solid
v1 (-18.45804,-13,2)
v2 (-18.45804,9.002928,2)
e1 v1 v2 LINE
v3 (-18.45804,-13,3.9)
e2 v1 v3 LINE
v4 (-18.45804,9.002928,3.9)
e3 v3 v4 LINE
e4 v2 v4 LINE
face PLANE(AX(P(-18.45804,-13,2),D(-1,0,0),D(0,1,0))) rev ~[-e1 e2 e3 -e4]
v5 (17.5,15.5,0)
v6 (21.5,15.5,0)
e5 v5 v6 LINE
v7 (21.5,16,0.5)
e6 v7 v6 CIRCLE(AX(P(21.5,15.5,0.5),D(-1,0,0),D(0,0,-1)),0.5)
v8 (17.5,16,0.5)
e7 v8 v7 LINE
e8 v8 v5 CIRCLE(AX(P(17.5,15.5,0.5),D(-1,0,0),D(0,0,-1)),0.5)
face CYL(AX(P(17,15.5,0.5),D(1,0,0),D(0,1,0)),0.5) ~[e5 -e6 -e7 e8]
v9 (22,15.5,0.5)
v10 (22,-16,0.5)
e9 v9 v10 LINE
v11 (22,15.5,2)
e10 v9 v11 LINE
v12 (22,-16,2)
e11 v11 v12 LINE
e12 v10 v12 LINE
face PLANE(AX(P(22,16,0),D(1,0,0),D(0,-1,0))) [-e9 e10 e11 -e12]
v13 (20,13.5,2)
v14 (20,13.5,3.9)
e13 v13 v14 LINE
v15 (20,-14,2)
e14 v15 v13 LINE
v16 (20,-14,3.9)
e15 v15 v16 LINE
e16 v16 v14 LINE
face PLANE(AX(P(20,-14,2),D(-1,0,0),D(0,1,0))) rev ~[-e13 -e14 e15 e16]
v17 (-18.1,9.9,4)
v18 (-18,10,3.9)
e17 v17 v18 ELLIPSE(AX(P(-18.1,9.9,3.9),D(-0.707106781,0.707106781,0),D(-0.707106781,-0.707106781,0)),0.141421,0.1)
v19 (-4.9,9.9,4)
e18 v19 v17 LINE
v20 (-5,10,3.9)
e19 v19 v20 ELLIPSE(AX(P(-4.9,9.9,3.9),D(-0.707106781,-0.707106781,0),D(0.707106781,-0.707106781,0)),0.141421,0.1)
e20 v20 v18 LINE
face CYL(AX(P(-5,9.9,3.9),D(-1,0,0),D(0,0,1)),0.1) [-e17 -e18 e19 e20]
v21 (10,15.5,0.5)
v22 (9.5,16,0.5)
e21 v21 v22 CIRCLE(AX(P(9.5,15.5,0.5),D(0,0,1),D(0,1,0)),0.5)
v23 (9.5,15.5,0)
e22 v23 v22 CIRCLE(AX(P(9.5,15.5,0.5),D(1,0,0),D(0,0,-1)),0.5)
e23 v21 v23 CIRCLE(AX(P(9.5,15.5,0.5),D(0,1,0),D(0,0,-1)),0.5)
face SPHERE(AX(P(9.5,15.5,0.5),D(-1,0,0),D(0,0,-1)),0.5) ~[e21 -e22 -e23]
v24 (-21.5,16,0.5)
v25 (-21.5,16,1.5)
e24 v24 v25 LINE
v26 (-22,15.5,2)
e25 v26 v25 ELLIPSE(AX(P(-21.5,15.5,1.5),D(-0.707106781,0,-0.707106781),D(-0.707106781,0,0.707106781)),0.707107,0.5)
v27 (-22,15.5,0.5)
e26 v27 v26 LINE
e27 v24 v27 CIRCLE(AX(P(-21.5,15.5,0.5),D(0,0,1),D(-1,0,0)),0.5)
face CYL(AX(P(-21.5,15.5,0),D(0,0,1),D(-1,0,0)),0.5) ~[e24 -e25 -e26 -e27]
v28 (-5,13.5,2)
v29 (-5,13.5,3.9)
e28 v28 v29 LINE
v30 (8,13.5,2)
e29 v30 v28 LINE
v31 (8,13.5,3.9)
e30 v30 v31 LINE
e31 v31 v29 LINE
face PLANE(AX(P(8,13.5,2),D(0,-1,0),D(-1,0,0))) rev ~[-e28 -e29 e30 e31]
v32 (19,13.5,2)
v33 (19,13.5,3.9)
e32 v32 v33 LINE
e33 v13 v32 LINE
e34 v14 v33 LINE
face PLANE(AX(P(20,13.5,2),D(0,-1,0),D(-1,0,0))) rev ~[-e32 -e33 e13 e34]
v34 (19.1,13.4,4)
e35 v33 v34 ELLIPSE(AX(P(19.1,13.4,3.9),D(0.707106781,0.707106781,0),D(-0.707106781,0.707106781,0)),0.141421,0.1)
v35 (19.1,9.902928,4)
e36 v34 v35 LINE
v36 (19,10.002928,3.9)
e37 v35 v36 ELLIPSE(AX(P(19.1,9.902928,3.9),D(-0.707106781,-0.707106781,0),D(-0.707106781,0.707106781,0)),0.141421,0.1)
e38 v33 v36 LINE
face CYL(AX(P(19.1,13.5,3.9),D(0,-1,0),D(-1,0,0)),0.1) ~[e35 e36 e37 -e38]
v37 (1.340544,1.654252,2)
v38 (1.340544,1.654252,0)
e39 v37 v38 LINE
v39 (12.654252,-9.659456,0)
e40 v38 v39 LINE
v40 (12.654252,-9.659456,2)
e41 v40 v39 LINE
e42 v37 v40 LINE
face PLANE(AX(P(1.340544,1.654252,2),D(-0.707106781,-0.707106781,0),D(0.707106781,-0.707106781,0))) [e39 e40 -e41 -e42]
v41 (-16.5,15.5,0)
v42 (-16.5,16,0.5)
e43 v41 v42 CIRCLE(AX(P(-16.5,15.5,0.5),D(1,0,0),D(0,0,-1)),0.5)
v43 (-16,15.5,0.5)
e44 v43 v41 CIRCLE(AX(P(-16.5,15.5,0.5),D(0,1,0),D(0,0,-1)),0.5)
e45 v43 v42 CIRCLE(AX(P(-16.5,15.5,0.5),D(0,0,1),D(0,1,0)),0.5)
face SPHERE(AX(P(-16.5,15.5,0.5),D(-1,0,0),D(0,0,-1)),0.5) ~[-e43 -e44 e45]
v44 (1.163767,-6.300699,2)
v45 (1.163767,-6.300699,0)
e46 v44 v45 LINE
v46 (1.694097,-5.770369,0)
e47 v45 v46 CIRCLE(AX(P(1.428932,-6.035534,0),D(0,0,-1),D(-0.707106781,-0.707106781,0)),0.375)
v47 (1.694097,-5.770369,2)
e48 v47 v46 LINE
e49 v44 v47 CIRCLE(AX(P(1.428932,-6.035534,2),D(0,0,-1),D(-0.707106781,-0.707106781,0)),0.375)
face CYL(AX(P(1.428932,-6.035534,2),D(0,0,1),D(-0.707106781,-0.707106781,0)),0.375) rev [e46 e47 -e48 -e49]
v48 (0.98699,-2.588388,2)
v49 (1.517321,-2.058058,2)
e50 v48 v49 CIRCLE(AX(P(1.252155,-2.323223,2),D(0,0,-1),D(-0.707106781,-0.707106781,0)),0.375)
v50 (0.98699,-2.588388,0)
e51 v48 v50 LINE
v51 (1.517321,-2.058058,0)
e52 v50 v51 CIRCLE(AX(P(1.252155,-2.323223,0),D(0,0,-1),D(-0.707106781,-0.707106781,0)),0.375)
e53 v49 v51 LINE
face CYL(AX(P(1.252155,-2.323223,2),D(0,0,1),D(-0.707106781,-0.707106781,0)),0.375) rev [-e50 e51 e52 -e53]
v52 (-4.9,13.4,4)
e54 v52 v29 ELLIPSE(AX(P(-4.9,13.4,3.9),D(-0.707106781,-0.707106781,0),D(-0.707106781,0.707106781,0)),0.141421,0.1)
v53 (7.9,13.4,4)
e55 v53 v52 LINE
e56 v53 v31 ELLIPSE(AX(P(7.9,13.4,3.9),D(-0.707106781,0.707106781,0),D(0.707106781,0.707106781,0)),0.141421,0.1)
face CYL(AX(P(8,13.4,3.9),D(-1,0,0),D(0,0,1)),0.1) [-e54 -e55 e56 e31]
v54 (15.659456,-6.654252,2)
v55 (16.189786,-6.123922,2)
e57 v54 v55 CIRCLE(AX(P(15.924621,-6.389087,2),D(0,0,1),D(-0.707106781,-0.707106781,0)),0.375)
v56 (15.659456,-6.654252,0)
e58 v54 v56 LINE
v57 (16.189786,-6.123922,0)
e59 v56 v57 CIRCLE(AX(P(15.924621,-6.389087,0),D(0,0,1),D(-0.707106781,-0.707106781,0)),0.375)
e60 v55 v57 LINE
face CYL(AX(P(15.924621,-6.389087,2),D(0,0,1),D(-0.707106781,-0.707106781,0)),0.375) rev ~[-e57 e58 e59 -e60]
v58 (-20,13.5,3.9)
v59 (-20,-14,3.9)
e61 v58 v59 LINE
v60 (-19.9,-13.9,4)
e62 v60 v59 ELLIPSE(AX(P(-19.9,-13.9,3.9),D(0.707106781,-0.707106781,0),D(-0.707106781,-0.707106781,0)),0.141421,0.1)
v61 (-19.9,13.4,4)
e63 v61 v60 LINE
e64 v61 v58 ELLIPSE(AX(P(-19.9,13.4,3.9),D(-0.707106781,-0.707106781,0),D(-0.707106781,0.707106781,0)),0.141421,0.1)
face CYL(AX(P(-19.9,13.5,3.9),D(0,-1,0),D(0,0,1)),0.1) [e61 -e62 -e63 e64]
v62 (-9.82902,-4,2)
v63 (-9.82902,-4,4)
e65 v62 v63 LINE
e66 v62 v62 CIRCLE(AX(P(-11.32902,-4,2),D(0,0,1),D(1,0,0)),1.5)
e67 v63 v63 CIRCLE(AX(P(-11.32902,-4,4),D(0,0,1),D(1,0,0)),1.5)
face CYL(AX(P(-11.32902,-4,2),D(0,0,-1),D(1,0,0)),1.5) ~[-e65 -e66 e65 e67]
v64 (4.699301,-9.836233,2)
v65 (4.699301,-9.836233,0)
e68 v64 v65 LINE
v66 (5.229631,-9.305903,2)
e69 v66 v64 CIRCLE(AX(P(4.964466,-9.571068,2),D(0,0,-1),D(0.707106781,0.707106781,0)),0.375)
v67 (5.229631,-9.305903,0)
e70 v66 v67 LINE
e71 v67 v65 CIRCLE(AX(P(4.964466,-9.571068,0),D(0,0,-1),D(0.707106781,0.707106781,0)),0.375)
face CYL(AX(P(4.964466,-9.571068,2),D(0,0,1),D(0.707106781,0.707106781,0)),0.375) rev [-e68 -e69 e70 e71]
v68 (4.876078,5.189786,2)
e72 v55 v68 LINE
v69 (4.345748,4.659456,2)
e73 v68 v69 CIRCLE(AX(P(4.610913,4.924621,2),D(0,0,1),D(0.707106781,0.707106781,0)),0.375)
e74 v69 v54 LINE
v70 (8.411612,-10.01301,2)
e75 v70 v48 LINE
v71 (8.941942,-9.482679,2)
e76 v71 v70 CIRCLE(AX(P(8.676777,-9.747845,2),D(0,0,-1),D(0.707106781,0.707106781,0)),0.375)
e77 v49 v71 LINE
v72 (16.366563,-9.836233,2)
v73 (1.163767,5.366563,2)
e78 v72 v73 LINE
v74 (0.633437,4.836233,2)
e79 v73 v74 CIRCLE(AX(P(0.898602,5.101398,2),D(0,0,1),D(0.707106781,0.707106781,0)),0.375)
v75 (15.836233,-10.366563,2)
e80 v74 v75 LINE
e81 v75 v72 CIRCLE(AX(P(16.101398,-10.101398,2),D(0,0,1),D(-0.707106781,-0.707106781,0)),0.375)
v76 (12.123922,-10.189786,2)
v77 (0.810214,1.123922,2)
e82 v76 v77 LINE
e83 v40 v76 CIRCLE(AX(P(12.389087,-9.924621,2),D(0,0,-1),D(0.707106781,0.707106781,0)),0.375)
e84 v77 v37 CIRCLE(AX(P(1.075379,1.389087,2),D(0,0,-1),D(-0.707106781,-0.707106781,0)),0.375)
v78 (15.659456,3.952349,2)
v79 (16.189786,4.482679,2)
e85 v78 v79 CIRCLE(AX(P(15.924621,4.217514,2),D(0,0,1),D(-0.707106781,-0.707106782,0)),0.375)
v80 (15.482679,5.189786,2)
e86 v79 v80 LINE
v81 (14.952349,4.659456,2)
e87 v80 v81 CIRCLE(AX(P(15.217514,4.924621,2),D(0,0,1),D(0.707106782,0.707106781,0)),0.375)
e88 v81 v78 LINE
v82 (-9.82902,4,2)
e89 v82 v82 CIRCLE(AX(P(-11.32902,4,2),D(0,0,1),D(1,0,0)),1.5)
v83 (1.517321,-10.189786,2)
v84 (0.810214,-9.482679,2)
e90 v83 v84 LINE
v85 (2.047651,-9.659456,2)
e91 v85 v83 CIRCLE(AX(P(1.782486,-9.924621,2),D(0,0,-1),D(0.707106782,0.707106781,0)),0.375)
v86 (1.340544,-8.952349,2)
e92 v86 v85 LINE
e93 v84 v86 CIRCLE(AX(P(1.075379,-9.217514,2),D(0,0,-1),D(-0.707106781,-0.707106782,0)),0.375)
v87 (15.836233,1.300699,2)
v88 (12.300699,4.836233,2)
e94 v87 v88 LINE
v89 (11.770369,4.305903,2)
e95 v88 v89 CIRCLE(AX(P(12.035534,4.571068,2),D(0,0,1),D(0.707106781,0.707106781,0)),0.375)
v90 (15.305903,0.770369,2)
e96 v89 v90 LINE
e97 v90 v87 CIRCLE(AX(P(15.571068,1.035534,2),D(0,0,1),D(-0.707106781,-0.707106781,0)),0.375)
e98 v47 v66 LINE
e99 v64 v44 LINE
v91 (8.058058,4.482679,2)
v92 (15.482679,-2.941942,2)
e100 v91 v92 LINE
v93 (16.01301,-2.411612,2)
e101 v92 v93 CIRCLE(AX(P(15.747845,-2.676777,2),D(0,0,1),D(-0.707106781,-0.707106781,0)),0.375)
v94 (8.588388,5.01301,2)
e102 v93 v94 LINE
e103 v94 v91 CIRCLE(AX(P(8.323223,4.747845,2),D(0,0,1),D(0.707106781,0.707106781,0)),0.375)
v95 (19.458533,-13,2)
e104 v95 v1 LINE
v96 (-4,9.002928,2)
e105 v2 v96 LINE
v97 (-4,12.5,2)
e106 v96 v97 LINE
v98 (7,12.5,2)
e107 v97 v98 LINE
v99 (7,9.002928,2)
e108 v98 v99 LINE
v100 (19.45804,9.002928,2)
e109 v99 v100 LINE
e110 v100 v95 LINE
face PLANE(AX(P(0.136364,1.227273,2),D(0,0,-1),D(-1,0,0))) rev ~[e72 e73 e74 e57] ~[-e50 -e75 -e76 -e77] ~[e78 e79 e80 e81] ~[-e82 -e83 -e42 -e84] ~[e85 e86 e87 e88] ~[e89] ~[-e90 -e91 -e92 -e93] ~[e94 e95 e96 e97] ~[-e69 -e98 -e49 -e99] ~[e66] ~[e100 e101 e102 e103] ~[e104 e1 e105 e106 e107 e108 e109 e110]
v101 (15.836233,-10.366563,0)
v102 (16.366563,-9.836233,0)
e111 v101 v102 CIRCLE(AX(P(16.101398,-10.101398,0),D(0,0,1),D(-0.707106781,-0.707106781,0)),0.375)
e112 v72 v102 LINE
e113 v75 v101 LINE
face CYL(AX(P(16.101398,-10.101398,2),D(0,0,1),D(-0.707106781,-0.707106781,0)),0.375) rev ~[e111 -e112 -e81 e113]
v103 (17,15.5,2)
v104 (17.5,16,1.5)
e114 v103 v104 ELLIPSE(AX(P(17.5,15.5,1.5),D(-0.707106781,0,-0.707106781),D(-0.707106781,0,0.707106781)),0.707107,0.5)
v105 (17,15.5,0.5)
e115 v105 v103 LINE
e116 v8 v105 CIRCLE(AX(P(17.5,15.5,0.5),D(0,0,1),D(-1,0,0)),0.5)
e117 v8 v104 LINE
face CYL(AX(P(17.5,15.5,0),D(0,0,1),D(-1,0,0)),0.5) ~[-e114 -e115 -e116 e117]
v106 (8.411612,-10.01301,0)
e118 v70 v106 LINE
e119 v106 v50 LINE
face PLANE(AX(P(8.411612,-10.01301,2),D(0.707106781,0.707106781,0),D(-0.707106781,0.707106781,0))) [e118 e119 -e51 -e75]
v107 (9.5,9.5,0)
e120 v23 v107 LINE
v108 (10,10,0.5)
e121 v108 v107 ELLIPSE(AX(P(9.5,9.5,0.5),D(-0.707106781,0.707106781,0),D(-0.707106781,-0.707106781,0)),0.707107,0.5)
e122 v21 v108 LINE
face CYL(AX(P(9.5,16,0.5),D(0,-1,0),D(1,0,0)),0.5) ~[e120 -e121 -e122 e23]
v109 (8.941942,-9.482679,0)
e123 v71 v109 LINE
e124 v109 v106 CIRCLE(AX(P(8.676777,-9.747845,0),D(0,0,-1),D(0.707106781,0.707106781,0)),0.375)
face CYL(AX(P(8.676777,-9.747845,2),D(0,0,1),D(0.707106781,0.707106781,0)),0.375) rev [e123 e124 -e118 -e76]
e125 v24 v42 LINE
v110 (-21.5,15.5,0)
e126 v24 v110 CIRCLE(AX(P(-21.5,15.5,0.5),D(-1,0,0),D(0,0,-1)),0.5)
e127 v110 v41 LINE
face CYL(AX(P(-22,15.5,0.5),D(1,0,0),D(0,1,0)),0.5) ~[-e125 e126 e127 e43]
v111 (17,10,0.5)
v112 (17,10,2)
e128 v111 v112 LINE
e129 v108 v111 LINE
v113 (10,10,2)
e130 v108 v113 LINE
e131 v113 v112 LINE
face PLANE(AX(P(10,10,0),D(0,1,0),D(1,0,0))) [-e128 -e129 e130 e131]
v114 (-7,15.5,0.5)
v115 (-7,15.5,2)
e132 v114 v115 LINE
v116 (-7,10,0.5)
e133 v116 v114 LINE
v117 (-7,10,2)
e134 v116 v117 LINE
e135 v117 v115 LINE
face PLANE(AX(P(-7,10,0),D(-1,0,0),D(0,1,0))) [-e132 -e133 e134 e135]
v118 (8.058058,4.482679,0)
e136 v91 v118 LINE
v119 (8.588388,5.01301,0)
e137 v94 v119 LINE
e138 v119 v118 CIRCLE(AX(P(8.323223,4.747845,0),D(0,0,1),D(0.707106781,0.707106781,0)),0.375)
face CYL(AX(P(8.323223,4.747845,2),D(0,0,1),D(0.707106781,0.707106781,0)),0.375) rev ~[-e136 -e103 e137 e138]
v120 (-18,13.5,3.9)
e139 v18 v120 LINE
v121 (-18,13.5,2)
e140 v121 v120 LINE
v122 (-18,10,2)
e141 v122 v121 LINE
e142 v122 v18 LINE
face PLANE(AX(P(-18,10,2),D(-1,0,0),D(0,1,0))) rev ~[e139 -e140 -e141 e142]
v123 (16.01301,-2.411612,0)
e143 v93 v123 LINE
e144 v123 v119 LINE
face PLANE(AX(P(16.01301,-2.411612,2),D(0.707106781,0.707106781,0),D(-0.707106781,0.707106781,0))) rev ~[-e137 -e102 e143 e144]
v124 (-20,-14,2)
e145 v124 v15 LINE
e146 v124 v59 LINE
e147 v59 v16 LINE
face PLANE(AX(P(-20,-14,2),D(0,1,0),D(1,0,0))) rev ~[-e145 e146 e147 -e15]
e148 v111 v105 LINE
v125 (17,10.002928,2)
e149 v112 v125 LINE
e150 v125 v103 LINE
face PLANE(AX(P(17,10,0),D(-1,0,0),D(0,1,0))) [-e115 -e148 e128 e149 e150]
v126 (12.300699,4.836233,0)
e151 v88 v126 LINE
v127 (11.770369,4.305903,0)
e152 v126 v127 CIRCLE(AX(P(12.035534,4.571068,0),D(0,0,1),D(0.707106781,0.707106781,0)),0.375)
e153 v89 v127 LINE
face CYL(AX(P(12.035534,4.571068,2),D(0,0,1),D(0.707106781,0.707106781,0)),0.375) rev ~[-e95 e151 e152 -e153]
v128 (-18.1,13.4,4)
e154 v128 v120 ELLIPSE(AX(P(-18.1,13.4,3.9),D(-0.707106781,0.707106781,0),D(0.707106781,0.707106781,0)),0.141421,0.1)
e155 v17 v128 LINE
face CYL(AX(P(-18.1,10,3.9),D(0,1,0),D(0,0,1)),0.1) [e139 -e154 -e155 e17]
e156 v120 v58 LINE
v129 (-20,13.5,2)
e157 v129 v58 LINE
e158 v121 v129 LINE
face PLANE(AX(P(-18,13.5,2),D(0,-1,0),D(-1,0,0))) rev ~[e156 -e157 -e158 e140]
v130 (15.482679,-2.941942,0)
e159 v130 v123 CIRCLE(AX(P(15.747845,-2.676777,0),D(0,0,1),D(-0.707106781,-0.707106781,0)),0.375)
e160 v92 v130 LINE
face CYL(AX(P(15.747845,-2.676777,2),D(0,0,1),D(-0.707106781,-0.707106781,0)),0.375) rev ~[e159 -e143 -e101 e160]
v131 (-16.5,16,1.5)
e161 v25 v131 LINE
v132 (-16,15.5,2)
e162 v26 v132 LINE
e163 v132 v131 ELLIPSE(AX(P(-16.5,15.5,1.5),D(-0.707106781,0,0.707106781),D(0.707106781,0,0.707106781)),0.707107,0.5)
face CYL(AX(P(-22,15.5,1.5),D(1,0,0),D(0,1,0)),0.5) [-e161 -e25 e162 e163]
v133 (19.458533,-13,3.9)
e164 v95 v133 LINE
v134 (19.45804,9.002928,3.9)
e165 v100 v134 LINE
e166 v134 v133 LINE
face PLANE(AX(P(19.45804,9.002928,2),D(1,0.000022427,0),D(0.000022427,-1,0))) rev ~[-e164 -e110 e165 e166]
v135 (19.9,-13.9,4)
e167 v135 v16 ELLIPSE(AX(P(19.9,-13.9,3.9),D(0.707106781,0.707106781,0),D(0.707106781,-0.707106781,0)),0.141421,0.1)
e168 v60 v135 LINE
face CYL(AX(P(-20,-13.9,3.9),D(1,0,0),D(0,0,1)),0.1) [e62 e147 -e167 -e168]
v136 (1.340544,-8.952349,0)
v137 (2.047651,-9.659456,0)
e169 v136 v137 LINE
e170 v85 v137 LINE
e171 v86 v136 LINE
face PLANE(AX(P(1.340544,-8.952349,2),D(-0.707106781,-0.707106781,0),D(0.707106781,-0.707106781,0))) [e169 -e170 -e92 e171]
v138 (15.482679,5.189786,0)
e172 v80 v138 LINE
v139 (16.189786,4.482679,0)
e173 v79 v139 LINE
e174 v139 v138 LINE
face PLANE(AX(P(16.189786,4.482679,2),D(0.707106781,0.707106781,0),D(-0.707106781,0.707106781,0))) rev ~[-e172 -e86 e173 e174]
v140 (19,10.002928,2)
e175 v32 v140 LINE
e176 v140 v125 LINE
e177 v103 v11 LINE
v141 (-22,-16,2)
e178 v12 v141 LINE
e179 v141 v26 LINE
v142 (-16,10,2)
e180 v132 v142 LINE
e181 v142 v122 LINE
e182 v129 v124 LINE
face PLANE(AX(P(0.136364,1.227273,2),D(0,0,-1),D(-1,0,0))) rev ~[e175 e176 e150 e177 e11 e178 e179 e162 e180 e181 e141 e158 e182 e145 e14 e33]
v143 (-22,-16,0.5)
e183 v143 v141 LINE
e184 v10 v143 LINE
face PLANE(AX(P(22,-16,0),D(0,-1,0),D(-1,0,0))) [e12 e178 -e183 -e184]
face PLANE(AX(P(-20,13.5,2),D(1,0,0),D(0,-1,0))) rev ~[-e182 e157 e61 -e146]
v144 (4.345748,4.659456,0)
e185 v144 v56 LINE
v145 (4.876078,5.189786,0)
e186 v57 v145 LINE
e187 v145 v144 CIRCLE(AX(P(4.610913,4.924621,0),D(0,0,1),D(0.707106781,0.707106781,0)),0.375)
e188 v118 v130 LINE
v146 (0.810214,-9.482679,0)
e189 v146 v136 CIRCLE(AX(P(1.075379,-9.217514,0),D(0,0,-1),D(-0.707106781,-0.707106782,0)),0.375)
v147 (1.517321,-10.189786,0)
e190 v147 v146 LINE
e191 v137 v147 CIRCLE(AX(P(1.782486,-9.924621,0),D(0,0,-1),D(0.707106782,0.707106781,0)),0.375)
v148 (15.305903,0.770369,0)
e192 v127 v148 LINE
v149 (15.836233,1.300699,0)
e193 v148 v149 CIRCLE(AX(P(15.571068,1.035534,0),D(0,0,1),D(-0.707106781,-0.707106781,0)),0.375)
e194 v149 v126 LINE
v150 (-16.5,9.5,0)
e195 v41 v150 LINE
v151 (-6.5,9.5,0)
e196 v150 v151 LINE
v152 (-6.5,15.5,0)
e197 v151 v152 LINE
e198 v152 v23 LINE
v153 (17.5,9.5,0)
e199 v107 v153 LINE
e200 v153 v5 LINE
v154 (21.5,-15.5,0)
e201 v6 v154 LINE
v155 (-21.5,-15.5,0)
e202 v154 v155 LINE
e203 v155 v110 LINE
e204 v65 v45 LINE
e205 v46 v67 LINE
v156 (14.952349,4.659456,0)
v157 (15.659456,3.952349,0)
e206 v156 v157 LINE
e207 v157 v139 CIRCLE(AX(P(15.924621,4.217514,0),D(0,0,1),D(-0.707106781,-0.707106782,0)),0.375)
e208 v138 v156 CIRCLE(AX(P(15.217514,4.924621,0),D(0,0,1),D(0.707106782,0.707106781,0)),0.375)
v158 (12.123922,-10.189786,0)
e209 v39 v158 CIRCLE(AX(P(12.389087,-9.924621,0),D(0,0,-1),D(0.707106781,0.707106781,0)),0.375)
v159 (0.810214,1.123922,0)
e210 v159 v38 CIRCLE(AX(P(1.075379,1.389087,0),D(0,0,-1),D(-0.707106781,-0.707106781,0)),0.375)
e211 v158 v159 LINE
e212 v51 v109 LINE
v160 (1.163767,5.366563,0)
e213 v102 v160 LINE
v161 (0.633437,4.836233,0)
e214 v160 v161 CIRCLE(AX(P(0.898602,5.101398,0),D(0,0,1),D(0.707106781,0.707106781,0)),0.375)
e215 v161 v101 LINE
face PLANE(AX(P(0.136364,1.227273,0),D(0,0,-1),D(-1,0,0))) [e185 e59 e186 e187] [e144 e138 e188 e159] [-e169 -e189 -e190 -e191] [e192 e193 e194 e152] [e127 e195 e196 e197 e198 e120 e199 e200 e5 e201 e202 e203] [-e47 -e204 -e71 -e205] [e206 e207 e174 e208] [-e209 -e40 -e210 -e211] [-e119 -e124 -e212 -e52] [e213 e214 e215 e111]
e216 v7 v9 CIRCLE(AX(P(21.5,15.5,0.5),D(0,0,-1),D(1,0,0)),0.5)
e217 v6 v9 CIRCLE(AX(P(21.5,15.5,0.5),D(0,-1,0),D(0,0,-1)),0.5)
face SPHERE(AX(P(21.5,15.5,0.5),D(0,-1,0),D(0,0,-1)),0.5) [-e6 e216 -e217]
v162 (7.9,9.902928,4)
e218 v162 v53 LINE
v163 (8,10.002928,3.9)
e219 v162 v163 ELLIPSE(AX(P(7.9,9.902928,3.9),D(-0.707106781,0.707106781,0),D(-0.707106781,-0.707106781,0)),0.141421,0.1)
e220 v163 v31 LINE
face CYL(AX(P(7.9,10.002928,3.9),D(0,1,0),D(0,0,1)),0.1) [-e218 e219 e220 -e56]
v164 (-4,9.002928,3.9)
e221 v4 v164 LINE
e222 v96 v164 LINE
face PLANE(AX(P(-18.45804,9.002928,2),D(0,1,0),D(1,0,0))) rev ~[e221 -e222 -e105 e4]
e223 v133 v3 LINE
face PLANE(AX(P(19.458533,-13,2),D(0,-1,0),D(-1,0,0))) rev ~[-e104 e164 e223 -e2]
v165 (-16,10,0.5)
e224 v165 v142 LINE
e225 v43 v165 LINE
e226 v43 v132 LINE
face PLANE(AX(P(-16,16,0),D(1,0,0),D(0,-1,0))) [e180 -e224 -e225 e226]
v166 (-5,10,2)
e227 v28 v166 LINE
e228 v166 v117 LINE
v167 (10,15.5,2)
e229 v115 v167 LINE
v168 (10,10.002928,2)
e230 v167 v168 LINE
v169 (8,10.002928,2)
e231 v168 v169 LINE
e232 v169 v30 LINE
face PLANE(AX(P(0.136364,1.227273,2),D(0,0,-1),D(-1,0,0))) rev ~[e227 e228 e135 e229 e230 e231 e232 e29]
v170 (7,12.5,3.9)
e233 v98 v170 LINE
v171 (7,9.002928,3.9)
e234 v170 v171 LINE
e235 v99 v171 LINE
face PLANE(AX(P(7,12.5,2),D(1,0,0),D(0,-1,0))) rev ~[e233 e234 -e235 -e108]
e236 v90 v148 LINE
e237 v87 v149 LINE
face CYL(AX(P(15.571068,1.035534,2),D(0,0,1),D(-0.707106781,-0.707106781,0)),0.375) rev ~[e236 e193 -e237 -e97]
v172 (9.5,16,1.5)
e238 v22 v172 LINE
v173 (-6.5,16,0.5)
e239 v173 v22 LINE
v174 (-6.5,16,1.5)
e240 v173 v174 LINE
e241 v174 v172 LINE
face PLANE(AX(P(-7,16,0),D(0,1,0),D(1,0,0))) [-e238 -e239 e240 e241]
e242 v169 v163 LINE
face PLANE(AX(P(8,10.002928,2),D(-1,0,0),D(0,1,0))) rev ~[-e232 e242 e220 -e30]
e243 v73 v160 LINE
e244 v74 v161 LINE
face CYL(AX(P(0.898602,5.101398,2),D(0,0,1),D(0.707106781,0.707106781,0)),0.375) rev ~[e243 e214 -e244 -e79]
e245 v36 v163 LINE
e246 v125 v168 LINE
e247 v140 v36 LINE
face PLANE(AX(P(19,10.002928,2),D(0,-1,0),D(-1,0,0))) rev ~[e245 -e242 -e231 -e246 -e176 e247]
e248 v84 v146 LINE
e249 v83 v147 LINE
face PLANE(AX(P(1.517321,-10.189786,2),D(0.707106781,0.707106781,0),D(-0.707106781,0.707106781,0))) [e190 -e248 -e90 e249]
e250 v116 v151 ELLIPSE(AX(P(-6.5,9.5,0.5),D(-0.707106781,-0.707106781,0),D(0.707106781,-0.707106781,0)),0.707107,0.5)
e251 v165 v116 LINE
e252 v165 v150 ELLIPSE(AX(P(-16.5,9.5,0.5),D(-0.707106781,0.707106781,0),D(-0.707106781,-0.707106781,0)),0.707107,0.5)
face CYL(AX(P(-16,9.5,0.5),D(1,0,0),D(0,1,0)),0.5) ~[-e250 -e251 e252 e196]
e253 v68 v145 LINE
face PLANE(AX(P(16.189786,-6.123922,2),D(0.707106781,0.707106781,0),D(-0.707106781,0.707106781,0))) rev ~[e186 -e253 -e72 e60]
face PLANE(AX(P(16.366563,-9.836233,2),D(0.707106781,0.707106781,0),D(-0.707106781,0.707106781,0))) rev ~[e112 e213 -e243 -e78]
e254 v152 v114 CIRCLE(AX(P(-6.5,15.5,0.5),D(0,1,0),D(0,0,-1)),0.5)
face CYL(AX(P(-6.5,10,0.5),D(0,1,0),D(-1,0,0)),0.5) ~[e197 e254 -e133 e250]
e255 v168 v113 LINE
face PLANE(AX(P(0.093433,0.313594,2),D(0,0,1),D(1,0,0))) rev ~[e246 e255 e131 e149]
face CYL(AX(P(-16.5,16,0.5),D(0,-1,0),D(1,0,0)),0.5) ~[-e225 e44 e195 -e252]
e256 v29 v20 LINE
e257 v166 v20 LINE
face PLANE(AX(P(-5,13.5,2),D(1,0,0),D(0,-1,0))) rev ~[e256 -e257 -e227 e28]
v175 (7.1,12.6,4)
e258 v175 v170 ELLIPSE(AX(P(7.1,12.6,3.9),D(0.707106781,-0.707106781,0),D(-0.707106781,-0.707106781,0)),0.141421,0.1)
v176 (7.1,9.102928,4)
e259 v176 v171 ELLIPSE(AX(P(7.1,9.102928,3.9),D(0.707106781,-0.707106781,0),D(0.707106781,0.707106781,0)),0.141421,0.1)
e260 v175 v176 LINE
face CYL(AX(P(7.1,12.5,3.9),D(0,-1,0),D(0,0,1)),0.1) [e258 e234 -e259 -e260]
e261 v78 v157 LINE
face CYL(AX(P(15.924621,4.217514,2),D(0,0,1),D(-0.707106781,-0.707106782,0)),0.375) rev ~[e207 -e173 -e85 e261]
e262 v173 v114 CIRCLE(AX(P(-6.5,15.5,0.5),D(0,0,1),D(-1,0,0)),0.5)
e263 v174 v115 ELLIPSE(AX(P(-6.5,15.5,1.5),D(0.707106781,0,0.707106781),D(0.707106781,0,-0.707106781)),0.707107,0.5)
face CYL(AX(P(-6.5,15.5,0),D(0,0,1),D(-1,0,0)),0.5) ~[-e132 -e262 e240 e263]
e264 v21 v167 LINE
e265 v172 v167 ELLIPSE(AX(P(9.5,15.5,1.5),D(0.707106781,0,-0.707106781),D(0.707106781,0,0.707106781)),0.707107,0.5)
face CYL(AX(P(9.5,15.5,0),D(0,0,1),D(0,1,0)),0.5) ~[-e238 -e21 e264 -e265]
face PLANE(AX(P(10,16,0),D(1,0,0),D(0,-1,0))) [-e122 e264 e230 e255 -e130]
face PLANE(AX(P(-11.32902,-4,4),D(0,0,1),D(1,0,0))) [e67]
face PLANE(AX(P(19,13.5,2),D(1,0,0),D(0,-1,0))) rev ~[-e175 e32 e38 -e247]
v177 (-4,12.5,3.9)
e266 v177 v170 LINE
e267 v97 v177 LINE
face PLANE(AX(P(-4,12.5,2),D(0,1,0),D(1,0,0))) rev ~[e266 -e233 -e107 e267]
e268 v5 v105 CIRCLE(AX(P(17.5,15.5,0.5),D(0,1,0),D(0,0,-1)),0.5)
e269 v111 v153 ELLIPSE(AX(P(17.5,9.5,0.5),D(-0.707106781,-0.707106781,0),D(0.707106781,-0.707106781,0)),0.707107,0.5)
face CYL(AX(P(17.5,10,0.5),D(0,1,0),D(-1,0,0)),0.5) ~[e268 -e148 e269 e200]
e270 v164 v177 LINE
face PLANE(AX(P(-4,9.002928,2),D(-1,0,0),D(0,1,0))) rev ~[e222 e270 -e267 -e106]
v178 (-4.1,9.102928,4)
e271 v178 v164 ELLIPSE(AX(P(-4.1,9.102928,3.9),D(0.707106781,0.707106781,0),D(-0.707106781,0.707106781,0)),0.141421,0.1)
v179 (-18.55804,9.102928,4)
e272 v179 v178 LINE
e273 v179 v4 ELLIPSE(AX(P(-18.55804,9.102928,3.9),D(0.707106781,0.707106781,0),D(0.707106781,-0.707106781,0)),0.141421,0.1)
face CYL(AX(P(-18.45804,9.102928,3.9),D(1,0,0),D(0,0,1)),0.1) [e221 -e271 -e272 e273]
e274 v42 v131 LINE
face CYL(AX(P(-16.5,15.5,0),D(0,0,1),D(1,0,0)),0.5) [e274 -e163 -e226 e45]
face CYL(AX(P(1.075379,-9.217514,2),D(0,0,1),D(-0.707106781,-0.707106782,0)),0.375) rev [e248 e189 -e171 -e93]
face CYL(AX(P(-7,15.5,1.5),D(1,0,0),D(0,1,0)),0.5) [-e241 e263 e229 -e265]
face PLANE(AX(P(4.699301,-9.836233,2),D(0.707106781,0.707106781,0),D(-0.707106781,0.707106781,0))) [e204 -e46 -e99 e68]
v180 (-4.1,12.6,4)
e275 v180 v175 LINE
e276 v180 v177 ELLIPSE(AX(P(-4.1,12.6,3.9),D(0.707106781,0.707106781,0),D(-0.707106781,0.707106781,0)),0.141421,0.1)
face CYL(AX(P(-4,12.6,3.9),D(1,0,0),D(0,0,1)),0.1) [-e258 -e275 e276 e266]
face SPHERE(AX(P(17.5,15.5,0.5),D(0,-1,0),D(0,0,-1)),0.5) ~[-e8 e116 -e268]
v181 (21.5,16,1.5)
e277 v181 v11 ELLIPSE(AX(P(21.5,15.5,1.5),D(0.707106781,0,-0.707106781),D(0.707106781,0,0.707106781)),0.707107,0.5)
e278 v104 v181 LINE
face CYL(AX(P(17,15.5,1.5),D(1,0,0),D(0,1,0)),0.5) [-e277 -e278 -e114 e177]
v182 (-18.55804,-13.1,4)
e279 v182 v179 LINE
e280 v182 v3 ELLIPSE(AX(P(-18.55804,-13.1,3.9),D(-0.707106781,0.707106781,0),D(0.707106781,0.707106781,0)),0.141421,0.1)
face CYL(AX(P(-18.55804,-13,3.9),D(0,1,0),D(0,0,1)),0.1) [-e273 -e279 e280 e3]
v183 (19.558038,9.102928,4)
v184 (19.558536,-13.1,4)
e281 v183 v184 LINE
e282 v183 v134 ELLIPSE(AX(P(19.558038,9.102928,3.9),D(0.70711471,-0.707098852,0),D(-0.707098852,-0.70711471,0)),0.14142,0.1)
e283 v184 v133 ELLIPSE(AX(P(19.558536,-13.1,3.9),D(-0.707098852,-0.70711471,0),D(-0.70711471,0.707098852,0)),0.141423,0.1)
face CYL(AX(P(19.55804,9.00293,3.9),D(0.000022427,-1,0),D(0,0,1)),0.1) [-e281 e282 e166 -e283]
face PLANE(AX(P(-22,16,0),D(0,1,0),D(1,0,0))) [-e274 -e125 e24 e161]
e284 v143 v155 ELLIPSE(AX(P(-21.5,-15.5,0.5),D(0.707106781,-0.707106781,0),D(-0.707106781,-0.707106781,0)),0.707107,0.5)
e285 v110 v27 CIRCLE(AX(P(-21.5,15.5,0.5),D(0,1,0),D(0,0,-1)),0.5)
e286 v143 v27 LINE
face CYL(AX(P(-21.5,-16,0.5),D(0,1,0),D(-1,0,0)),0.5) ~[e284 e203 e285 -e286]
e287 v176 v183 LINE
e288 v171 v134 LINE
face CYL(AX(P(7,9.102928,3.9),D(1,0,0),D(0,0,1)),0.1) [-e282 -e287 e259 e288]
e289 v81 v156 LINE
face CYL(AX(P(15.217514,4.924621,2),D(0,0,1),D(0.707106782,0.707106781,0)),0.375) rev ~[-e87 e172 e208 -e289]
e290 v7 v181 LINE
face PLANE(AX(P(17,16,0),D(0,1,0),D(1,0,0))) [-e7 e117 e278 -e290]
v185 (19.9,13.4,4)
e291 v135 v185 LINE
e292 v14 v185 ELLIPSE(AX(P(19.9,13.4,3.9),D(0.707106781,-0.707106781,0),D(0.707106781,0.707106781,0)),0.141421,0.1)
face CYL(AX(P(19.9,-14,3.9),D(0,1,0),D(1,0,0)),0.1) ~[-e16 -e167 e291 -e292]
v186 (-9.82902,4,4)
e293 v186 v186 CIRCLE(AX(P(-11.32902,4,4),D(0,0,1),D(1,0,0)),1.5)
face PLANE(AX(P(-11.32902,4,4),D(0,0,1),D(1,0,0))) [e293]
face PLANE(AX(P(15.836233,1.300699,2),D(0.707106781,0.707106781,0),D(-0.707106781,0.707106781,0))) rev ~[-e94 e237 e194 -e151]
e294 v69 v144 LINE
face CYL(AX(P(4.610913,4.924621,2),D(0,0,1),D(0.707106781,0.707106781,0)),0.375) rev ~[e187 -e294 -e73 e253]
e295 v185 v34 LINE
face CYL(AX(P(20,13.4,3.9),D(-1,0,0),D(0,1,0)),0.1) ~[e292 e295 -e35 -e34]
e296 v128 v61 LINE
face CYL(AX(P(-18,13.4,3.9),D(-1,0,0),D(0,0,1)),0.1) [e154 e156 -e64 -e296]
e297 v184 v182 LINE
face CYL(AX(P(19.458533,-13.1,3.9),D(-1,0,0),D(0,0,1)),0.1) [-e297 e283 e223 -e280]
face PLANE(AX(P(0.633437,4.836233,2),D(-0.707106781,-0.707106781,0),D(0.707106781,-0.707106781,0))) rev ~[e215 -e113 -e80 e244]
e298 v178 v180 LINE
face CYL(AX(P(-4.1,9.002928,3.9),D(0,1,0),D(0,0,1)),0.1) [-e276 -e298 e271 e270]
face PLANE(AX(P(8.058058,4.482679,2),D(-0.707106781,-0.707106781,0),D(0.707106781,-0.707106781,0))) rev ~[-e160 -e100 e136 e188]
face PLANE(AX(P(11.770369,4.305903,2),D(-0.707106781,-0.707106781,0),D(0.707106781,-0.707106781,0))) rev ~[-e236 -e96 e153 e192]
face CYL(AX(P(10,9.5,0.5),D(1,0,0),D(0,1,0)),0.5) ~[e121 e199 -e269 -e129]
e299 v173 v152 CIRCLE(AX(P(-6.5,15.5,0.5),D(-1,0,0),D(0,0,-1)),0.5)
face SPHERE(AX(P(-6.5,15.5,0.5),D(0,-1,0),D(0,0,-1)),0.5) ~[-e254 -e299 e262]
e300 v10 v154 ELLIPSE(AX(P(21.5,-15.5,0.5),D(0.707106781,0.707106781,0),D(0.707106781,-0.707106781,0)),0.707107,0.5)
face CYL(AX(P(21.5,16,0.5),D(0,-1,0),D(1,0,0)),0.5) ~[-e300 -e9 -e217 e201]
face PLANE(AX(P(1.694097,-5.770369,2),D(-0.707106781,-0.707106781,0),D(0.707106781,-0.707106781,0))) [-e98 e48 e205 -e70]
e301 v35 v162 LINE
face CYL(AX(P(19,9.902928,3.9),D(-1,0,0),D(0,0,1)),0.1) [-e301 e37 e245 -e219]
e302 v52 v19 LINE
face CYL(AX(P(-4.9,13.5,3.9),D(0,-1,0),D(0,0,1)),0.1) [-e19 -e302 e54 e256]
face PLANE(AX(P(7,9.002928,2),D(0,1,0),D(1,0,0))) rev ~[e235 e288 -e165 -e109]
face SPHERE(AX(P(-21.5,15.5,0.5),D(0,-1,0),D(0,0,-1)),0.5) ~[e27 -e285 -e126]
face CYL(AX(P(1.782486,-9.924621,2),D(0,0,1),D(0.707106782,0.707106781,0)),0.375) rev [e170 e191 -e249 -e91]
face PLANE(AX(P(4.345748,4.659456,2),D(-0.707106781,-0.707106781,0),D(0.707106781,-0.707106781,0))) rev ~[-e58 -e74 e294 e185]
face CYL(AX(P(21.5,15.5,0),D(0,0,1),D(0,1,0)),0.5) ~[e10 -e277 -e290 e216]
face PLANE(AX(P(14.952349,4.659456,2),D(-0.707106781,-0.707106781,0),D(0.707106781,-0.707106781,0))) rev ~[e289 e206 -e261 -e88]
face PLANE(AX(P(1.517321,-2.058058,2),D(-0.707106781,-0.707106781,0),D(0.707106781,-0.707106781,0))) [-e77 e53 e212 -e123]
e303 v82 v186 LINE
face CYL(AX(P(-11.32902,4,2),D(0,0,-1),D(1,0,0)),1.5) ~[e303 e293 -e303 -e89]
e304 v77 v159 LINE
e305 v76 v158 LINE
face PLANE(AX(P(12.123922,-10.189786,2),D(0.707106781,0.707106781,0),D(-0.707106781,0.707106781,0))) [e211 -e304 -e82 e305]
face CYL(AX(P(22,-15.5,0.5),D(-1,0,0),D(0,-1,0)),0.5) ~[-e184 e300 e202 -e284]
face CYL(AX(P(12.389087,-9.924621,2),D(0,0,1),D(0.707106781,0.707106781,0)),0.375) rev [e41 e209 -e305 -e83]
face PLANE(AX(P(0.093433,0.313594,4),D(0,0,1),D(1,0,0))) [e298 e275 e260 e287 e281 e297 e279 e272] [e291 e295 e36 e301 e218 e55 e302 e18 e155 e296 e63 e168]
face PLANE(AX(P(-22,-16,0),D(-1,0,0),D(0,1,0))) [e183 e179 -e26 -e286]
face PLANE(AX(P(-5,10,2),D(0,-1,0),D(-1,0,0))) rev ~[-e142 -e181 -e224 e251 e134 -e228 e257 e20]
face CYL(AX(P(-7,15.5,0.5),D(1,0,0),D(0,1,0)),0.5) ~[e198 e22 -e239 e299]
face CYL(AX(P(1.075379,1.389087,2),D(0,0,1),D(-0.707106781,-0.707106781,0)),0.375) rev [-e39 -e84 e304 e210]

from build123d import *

# Parameters (mm, degrees)
BOSS_EXTRUDE1_DEPTH = 2
FILLET1_R           = 0.5
BOSS_EXTRUDE2_DEPTH = 2
FILLET4_R           = 0.1
SKETCH3_R           = 1.5
BOSS_EXTRUDE3_DEPTH = 2
CUT_EXTRUDE4_DEPTH  = 2


with BuildPart() as part:
    # Sketch1 → Boss-Extrude1 (new body)
    with BuildSketch(Plane.XY):
        Polygon((-16, 16), (-16, 10), (-7, 10), (-7, 16), (10, 16), (10, 10), (17, 10), (17, 16), (22, 16), (22, -16), (-22, -16), (-22, 16), align=None)
    extrude(amount=BOSS_EXTRUDE1_DEPTH)

    # Fillet1
    fillet1_edges = [part.edges().sort_by_distance(p)[0] for p in [
        (22, 0, 0),
        (0, -16, 0),
        (-22, 0, 0),
        (-19, 16, 0),
        (-16, 13, 0),
        (-11.5, 10, 0),
        (-7, 13, 0),
        (1.5, 16, 0),
        (10, 13, 0),
        (13.5, 10, 0),
        (17, 13, 0),
        (19.5, 16, 0),
        (22, 16, 1),
        (1.5, 16, 2),
        (-22, 16, 1),
        (-16, 16, 1),
        (-7, 16, 1),
        (10, 16, 1),
        (17, 16, 1),
        (-19, 16, 2),
        (19.5, 16, 2),
    ]]
    fillet(fillet1_edges, radius=FILLET1_R)

    # Sketch2 → Boss-Extrude2 (add)
    with BuildSketch(Plane.XY.offset(2)):
        Polygon((20, 13.5), (19, 13.5), (19, 10.002928169), (8, 10.002928169), (8, 13.5), (-5, 13.5), (-5, 10), (-18, 10), (-18, 13.5), (-20, 13.5), (-20, -14), (20, -14), align=None)
        Polygon((7, 9.002928169), (19.458039892, 9.002928169), (19.458533352, -13), (19, -13), (-18.458039892, -13), (-18.458039892, 9.002928169), (-4, 9.002928169), (-4, 12.5), (7, 12.5), align=None, mode=Mode.SUBTRACT)
    extrude(amount=BOSS_EXTRUDE2_DEPTH)

    # Fillet4
    fillet4_edges = [part.edges().sort_by_distance(p)[0] for p in [
        (13.5, 10.002928169, 4),
        (8, 11.751464084, 4),
        (1.5, 13.5, 4),
        (-5, 11.75, 4),
        (-11.5, 10, 4),
        (-18, 11.75, 4),
        (-19, 13.5, 4),
        (-20, -0.25, 4),
        (0, -14, 4),
        (20, -0.25, 4),
        (19.5, 13.5, 4),
        (19, 11.751464084, 4),
        (-4, 10.751464084, 4),
        (-11.229019946, 9.002928169, 4),
        (-18.458039892, -1.998535916, 4),
        (0.50024673, -13, 4),
        (19.458286622, -1.998535916, 4),
        (13.229019946, 9.002928169, 4),
        (7, 10.751464084, 4),
        (1.5, 12.5, 4),
    ]]
    fillet(fillet4_edges, radius=FILLET4_R)

    # Sketch3 → Boss-Extrude3 (add)
    with BuildSketch(Plane.XY.offset(2)):
        with Locations((-11.329019946, 4)):
            Circle(SKETCH3_R)
        with Locations((-11.329019946, -4)):
            Circle(SKETCH3_R)
    extrude(amount=BOSS_EXTRUDE3_DEPTH)

    # Sketch4 → Cut-Extrude4 (cut)
    with BuildSketch(Plane.XY.offset(2)):
        with BuildLine():
            Line((16.189786245, 4.482679464), (15.482679464, 5.189786245))
            ThreePointArc((15.482679464, 5.189786245), (14.952349378, 5.189786245), (14.952349378, 4.65945616))
            Line((14.952349378, 4.65945616), (15.65945616, 3.952349378))
            ThreePointArc((15.65945616, 3.952349378), (16.189786245, 3.952349378), (16.189786245, 4.482679464))
        make_face()
        with BuildLine():
            Line((15.836232855, 1.300698949), (12.300698949, 4.836232855))
            ThreePointArc((12.300698949, 4.836232855), (11.770368863, 4.836232855), (11.770368863, 4.305902769))
            Line((11.770368863, 4.305902769), (15.305902769, 0.770368863))
            ThreePointArc((15.305902769, 0.770368863), (15.836232855, 0.770368863), (15.836232855, 1.300698949))
        make_face()
        with BuildLine():
            Line((16.01300955, -2.411611652), (8.588388348, 5.01300955))
            ThreePointArc((8.588388348, 5.01300955), (8.058058262, 5.01300955), (8.058058262, 4.482679464))
            Line((8.058058262, 4.482679464), (15.482679464, -2.941941738))
            ThreePointArc((15.482679464, -2.941941738), (16.01300955, -2.941941738), (16.01300955, -2.411611652))
        make_face()
        with BuildLine():
            Line((16.189786245, -6.123922254), (4.876077746, 5.189786245))
            ThreePointArc((4.876077746, 5.189786245), (4.345747661, 5.189786245), (4.345747661, 4.65945616))
            Line((4.345747661, 4.65945616), (15.65945616, -6.654252339))
            ThreePointArc((15.65945616, -6.654252339), (16.189786245, -6.654252339), (16.189786245, -6.123922254))
        make_face()
        with BuildLine():
            Line((0.633437059, 4.836232855), (15.836232855, -10.366562941))
            ThreePointArc((15.836232855, -10.366562941), (16.366562941, -10.366562941), (16.366562941, -9.836232855))
            Line((16.366562941, -9.836232855), (1.163767145, 5.366562941))
            ThreePointArc((1.163767145, 5.366562941), (0.633437059, 5.366562941), (0.633437059, 4.836232855))
        make_face()
        with BuildLine():
            ThreePointArc((0.810213755, 1.123922254), (0.810213755, 1.654252339), (1.34054384, 1.654252339))
            Line((1.34054384, 1.654252339), (12.654252339, -9.65945616))
            ThreePointArc((12.654252339, -9.65945616), (12.654252339, -10.189786245), (12.123922254, -10.189786245))
            Line((12.123922254, -10.189786245), (0.810213755, 1.123922254))
        make_face()
        with BuildLine():
            ThreePointArc((0.98699045, -2.588388348), (0.98699045, -2.058058262), (1.517320536, -2.058058262))
            Line((1.517320536, -2.058058262), (8.941941738, -9.482679464))
            ThreePointArc((8.941941738, -9.482679464), (8.941941738, -10.01300955), (8.411611652, -10.01300955))
            Line((8.411611652, -10.01300955), (0.98699045, -2.588388348))
        make_face()
        with BuildLine():
            ThreePointArc((1.163767145, -6.300698949), (1.163767145, -5.770368863), (1.694097231, -5.770368863))
            Line((1.694097231, -5.770368863), (5.229631137, -9.305902769))
            ThreePointArc((5.229631137, -9.305902769), (5.229631137, -9.836232855), (4.699301051, -9.836232855))
            Line((4.699301051, -9.836232855), (1.163767145, -6.300698949))
        make_face()
        with BuildLine():
            ThreePointArc((0.810213755, -9.482679464), (0.810213755, -8.952349378), (1.34054384, -8.952349378))
            Line((1.34054384, -8.952349378), (2.047650622, -9.65945616))
            ThreePointArc((2.047650622, -9.65945616), (2.047650622, -10.189786245), (1.517320536, -10.189786245))
            Line((1.517320536, -10.189786245), (0.810213755, -9.482679464))
        make_face()
    extrude(amount=-CUT_EXTRUDE4_DEPTH, mode=Mode.SUBTRACT)


solid = part.part
